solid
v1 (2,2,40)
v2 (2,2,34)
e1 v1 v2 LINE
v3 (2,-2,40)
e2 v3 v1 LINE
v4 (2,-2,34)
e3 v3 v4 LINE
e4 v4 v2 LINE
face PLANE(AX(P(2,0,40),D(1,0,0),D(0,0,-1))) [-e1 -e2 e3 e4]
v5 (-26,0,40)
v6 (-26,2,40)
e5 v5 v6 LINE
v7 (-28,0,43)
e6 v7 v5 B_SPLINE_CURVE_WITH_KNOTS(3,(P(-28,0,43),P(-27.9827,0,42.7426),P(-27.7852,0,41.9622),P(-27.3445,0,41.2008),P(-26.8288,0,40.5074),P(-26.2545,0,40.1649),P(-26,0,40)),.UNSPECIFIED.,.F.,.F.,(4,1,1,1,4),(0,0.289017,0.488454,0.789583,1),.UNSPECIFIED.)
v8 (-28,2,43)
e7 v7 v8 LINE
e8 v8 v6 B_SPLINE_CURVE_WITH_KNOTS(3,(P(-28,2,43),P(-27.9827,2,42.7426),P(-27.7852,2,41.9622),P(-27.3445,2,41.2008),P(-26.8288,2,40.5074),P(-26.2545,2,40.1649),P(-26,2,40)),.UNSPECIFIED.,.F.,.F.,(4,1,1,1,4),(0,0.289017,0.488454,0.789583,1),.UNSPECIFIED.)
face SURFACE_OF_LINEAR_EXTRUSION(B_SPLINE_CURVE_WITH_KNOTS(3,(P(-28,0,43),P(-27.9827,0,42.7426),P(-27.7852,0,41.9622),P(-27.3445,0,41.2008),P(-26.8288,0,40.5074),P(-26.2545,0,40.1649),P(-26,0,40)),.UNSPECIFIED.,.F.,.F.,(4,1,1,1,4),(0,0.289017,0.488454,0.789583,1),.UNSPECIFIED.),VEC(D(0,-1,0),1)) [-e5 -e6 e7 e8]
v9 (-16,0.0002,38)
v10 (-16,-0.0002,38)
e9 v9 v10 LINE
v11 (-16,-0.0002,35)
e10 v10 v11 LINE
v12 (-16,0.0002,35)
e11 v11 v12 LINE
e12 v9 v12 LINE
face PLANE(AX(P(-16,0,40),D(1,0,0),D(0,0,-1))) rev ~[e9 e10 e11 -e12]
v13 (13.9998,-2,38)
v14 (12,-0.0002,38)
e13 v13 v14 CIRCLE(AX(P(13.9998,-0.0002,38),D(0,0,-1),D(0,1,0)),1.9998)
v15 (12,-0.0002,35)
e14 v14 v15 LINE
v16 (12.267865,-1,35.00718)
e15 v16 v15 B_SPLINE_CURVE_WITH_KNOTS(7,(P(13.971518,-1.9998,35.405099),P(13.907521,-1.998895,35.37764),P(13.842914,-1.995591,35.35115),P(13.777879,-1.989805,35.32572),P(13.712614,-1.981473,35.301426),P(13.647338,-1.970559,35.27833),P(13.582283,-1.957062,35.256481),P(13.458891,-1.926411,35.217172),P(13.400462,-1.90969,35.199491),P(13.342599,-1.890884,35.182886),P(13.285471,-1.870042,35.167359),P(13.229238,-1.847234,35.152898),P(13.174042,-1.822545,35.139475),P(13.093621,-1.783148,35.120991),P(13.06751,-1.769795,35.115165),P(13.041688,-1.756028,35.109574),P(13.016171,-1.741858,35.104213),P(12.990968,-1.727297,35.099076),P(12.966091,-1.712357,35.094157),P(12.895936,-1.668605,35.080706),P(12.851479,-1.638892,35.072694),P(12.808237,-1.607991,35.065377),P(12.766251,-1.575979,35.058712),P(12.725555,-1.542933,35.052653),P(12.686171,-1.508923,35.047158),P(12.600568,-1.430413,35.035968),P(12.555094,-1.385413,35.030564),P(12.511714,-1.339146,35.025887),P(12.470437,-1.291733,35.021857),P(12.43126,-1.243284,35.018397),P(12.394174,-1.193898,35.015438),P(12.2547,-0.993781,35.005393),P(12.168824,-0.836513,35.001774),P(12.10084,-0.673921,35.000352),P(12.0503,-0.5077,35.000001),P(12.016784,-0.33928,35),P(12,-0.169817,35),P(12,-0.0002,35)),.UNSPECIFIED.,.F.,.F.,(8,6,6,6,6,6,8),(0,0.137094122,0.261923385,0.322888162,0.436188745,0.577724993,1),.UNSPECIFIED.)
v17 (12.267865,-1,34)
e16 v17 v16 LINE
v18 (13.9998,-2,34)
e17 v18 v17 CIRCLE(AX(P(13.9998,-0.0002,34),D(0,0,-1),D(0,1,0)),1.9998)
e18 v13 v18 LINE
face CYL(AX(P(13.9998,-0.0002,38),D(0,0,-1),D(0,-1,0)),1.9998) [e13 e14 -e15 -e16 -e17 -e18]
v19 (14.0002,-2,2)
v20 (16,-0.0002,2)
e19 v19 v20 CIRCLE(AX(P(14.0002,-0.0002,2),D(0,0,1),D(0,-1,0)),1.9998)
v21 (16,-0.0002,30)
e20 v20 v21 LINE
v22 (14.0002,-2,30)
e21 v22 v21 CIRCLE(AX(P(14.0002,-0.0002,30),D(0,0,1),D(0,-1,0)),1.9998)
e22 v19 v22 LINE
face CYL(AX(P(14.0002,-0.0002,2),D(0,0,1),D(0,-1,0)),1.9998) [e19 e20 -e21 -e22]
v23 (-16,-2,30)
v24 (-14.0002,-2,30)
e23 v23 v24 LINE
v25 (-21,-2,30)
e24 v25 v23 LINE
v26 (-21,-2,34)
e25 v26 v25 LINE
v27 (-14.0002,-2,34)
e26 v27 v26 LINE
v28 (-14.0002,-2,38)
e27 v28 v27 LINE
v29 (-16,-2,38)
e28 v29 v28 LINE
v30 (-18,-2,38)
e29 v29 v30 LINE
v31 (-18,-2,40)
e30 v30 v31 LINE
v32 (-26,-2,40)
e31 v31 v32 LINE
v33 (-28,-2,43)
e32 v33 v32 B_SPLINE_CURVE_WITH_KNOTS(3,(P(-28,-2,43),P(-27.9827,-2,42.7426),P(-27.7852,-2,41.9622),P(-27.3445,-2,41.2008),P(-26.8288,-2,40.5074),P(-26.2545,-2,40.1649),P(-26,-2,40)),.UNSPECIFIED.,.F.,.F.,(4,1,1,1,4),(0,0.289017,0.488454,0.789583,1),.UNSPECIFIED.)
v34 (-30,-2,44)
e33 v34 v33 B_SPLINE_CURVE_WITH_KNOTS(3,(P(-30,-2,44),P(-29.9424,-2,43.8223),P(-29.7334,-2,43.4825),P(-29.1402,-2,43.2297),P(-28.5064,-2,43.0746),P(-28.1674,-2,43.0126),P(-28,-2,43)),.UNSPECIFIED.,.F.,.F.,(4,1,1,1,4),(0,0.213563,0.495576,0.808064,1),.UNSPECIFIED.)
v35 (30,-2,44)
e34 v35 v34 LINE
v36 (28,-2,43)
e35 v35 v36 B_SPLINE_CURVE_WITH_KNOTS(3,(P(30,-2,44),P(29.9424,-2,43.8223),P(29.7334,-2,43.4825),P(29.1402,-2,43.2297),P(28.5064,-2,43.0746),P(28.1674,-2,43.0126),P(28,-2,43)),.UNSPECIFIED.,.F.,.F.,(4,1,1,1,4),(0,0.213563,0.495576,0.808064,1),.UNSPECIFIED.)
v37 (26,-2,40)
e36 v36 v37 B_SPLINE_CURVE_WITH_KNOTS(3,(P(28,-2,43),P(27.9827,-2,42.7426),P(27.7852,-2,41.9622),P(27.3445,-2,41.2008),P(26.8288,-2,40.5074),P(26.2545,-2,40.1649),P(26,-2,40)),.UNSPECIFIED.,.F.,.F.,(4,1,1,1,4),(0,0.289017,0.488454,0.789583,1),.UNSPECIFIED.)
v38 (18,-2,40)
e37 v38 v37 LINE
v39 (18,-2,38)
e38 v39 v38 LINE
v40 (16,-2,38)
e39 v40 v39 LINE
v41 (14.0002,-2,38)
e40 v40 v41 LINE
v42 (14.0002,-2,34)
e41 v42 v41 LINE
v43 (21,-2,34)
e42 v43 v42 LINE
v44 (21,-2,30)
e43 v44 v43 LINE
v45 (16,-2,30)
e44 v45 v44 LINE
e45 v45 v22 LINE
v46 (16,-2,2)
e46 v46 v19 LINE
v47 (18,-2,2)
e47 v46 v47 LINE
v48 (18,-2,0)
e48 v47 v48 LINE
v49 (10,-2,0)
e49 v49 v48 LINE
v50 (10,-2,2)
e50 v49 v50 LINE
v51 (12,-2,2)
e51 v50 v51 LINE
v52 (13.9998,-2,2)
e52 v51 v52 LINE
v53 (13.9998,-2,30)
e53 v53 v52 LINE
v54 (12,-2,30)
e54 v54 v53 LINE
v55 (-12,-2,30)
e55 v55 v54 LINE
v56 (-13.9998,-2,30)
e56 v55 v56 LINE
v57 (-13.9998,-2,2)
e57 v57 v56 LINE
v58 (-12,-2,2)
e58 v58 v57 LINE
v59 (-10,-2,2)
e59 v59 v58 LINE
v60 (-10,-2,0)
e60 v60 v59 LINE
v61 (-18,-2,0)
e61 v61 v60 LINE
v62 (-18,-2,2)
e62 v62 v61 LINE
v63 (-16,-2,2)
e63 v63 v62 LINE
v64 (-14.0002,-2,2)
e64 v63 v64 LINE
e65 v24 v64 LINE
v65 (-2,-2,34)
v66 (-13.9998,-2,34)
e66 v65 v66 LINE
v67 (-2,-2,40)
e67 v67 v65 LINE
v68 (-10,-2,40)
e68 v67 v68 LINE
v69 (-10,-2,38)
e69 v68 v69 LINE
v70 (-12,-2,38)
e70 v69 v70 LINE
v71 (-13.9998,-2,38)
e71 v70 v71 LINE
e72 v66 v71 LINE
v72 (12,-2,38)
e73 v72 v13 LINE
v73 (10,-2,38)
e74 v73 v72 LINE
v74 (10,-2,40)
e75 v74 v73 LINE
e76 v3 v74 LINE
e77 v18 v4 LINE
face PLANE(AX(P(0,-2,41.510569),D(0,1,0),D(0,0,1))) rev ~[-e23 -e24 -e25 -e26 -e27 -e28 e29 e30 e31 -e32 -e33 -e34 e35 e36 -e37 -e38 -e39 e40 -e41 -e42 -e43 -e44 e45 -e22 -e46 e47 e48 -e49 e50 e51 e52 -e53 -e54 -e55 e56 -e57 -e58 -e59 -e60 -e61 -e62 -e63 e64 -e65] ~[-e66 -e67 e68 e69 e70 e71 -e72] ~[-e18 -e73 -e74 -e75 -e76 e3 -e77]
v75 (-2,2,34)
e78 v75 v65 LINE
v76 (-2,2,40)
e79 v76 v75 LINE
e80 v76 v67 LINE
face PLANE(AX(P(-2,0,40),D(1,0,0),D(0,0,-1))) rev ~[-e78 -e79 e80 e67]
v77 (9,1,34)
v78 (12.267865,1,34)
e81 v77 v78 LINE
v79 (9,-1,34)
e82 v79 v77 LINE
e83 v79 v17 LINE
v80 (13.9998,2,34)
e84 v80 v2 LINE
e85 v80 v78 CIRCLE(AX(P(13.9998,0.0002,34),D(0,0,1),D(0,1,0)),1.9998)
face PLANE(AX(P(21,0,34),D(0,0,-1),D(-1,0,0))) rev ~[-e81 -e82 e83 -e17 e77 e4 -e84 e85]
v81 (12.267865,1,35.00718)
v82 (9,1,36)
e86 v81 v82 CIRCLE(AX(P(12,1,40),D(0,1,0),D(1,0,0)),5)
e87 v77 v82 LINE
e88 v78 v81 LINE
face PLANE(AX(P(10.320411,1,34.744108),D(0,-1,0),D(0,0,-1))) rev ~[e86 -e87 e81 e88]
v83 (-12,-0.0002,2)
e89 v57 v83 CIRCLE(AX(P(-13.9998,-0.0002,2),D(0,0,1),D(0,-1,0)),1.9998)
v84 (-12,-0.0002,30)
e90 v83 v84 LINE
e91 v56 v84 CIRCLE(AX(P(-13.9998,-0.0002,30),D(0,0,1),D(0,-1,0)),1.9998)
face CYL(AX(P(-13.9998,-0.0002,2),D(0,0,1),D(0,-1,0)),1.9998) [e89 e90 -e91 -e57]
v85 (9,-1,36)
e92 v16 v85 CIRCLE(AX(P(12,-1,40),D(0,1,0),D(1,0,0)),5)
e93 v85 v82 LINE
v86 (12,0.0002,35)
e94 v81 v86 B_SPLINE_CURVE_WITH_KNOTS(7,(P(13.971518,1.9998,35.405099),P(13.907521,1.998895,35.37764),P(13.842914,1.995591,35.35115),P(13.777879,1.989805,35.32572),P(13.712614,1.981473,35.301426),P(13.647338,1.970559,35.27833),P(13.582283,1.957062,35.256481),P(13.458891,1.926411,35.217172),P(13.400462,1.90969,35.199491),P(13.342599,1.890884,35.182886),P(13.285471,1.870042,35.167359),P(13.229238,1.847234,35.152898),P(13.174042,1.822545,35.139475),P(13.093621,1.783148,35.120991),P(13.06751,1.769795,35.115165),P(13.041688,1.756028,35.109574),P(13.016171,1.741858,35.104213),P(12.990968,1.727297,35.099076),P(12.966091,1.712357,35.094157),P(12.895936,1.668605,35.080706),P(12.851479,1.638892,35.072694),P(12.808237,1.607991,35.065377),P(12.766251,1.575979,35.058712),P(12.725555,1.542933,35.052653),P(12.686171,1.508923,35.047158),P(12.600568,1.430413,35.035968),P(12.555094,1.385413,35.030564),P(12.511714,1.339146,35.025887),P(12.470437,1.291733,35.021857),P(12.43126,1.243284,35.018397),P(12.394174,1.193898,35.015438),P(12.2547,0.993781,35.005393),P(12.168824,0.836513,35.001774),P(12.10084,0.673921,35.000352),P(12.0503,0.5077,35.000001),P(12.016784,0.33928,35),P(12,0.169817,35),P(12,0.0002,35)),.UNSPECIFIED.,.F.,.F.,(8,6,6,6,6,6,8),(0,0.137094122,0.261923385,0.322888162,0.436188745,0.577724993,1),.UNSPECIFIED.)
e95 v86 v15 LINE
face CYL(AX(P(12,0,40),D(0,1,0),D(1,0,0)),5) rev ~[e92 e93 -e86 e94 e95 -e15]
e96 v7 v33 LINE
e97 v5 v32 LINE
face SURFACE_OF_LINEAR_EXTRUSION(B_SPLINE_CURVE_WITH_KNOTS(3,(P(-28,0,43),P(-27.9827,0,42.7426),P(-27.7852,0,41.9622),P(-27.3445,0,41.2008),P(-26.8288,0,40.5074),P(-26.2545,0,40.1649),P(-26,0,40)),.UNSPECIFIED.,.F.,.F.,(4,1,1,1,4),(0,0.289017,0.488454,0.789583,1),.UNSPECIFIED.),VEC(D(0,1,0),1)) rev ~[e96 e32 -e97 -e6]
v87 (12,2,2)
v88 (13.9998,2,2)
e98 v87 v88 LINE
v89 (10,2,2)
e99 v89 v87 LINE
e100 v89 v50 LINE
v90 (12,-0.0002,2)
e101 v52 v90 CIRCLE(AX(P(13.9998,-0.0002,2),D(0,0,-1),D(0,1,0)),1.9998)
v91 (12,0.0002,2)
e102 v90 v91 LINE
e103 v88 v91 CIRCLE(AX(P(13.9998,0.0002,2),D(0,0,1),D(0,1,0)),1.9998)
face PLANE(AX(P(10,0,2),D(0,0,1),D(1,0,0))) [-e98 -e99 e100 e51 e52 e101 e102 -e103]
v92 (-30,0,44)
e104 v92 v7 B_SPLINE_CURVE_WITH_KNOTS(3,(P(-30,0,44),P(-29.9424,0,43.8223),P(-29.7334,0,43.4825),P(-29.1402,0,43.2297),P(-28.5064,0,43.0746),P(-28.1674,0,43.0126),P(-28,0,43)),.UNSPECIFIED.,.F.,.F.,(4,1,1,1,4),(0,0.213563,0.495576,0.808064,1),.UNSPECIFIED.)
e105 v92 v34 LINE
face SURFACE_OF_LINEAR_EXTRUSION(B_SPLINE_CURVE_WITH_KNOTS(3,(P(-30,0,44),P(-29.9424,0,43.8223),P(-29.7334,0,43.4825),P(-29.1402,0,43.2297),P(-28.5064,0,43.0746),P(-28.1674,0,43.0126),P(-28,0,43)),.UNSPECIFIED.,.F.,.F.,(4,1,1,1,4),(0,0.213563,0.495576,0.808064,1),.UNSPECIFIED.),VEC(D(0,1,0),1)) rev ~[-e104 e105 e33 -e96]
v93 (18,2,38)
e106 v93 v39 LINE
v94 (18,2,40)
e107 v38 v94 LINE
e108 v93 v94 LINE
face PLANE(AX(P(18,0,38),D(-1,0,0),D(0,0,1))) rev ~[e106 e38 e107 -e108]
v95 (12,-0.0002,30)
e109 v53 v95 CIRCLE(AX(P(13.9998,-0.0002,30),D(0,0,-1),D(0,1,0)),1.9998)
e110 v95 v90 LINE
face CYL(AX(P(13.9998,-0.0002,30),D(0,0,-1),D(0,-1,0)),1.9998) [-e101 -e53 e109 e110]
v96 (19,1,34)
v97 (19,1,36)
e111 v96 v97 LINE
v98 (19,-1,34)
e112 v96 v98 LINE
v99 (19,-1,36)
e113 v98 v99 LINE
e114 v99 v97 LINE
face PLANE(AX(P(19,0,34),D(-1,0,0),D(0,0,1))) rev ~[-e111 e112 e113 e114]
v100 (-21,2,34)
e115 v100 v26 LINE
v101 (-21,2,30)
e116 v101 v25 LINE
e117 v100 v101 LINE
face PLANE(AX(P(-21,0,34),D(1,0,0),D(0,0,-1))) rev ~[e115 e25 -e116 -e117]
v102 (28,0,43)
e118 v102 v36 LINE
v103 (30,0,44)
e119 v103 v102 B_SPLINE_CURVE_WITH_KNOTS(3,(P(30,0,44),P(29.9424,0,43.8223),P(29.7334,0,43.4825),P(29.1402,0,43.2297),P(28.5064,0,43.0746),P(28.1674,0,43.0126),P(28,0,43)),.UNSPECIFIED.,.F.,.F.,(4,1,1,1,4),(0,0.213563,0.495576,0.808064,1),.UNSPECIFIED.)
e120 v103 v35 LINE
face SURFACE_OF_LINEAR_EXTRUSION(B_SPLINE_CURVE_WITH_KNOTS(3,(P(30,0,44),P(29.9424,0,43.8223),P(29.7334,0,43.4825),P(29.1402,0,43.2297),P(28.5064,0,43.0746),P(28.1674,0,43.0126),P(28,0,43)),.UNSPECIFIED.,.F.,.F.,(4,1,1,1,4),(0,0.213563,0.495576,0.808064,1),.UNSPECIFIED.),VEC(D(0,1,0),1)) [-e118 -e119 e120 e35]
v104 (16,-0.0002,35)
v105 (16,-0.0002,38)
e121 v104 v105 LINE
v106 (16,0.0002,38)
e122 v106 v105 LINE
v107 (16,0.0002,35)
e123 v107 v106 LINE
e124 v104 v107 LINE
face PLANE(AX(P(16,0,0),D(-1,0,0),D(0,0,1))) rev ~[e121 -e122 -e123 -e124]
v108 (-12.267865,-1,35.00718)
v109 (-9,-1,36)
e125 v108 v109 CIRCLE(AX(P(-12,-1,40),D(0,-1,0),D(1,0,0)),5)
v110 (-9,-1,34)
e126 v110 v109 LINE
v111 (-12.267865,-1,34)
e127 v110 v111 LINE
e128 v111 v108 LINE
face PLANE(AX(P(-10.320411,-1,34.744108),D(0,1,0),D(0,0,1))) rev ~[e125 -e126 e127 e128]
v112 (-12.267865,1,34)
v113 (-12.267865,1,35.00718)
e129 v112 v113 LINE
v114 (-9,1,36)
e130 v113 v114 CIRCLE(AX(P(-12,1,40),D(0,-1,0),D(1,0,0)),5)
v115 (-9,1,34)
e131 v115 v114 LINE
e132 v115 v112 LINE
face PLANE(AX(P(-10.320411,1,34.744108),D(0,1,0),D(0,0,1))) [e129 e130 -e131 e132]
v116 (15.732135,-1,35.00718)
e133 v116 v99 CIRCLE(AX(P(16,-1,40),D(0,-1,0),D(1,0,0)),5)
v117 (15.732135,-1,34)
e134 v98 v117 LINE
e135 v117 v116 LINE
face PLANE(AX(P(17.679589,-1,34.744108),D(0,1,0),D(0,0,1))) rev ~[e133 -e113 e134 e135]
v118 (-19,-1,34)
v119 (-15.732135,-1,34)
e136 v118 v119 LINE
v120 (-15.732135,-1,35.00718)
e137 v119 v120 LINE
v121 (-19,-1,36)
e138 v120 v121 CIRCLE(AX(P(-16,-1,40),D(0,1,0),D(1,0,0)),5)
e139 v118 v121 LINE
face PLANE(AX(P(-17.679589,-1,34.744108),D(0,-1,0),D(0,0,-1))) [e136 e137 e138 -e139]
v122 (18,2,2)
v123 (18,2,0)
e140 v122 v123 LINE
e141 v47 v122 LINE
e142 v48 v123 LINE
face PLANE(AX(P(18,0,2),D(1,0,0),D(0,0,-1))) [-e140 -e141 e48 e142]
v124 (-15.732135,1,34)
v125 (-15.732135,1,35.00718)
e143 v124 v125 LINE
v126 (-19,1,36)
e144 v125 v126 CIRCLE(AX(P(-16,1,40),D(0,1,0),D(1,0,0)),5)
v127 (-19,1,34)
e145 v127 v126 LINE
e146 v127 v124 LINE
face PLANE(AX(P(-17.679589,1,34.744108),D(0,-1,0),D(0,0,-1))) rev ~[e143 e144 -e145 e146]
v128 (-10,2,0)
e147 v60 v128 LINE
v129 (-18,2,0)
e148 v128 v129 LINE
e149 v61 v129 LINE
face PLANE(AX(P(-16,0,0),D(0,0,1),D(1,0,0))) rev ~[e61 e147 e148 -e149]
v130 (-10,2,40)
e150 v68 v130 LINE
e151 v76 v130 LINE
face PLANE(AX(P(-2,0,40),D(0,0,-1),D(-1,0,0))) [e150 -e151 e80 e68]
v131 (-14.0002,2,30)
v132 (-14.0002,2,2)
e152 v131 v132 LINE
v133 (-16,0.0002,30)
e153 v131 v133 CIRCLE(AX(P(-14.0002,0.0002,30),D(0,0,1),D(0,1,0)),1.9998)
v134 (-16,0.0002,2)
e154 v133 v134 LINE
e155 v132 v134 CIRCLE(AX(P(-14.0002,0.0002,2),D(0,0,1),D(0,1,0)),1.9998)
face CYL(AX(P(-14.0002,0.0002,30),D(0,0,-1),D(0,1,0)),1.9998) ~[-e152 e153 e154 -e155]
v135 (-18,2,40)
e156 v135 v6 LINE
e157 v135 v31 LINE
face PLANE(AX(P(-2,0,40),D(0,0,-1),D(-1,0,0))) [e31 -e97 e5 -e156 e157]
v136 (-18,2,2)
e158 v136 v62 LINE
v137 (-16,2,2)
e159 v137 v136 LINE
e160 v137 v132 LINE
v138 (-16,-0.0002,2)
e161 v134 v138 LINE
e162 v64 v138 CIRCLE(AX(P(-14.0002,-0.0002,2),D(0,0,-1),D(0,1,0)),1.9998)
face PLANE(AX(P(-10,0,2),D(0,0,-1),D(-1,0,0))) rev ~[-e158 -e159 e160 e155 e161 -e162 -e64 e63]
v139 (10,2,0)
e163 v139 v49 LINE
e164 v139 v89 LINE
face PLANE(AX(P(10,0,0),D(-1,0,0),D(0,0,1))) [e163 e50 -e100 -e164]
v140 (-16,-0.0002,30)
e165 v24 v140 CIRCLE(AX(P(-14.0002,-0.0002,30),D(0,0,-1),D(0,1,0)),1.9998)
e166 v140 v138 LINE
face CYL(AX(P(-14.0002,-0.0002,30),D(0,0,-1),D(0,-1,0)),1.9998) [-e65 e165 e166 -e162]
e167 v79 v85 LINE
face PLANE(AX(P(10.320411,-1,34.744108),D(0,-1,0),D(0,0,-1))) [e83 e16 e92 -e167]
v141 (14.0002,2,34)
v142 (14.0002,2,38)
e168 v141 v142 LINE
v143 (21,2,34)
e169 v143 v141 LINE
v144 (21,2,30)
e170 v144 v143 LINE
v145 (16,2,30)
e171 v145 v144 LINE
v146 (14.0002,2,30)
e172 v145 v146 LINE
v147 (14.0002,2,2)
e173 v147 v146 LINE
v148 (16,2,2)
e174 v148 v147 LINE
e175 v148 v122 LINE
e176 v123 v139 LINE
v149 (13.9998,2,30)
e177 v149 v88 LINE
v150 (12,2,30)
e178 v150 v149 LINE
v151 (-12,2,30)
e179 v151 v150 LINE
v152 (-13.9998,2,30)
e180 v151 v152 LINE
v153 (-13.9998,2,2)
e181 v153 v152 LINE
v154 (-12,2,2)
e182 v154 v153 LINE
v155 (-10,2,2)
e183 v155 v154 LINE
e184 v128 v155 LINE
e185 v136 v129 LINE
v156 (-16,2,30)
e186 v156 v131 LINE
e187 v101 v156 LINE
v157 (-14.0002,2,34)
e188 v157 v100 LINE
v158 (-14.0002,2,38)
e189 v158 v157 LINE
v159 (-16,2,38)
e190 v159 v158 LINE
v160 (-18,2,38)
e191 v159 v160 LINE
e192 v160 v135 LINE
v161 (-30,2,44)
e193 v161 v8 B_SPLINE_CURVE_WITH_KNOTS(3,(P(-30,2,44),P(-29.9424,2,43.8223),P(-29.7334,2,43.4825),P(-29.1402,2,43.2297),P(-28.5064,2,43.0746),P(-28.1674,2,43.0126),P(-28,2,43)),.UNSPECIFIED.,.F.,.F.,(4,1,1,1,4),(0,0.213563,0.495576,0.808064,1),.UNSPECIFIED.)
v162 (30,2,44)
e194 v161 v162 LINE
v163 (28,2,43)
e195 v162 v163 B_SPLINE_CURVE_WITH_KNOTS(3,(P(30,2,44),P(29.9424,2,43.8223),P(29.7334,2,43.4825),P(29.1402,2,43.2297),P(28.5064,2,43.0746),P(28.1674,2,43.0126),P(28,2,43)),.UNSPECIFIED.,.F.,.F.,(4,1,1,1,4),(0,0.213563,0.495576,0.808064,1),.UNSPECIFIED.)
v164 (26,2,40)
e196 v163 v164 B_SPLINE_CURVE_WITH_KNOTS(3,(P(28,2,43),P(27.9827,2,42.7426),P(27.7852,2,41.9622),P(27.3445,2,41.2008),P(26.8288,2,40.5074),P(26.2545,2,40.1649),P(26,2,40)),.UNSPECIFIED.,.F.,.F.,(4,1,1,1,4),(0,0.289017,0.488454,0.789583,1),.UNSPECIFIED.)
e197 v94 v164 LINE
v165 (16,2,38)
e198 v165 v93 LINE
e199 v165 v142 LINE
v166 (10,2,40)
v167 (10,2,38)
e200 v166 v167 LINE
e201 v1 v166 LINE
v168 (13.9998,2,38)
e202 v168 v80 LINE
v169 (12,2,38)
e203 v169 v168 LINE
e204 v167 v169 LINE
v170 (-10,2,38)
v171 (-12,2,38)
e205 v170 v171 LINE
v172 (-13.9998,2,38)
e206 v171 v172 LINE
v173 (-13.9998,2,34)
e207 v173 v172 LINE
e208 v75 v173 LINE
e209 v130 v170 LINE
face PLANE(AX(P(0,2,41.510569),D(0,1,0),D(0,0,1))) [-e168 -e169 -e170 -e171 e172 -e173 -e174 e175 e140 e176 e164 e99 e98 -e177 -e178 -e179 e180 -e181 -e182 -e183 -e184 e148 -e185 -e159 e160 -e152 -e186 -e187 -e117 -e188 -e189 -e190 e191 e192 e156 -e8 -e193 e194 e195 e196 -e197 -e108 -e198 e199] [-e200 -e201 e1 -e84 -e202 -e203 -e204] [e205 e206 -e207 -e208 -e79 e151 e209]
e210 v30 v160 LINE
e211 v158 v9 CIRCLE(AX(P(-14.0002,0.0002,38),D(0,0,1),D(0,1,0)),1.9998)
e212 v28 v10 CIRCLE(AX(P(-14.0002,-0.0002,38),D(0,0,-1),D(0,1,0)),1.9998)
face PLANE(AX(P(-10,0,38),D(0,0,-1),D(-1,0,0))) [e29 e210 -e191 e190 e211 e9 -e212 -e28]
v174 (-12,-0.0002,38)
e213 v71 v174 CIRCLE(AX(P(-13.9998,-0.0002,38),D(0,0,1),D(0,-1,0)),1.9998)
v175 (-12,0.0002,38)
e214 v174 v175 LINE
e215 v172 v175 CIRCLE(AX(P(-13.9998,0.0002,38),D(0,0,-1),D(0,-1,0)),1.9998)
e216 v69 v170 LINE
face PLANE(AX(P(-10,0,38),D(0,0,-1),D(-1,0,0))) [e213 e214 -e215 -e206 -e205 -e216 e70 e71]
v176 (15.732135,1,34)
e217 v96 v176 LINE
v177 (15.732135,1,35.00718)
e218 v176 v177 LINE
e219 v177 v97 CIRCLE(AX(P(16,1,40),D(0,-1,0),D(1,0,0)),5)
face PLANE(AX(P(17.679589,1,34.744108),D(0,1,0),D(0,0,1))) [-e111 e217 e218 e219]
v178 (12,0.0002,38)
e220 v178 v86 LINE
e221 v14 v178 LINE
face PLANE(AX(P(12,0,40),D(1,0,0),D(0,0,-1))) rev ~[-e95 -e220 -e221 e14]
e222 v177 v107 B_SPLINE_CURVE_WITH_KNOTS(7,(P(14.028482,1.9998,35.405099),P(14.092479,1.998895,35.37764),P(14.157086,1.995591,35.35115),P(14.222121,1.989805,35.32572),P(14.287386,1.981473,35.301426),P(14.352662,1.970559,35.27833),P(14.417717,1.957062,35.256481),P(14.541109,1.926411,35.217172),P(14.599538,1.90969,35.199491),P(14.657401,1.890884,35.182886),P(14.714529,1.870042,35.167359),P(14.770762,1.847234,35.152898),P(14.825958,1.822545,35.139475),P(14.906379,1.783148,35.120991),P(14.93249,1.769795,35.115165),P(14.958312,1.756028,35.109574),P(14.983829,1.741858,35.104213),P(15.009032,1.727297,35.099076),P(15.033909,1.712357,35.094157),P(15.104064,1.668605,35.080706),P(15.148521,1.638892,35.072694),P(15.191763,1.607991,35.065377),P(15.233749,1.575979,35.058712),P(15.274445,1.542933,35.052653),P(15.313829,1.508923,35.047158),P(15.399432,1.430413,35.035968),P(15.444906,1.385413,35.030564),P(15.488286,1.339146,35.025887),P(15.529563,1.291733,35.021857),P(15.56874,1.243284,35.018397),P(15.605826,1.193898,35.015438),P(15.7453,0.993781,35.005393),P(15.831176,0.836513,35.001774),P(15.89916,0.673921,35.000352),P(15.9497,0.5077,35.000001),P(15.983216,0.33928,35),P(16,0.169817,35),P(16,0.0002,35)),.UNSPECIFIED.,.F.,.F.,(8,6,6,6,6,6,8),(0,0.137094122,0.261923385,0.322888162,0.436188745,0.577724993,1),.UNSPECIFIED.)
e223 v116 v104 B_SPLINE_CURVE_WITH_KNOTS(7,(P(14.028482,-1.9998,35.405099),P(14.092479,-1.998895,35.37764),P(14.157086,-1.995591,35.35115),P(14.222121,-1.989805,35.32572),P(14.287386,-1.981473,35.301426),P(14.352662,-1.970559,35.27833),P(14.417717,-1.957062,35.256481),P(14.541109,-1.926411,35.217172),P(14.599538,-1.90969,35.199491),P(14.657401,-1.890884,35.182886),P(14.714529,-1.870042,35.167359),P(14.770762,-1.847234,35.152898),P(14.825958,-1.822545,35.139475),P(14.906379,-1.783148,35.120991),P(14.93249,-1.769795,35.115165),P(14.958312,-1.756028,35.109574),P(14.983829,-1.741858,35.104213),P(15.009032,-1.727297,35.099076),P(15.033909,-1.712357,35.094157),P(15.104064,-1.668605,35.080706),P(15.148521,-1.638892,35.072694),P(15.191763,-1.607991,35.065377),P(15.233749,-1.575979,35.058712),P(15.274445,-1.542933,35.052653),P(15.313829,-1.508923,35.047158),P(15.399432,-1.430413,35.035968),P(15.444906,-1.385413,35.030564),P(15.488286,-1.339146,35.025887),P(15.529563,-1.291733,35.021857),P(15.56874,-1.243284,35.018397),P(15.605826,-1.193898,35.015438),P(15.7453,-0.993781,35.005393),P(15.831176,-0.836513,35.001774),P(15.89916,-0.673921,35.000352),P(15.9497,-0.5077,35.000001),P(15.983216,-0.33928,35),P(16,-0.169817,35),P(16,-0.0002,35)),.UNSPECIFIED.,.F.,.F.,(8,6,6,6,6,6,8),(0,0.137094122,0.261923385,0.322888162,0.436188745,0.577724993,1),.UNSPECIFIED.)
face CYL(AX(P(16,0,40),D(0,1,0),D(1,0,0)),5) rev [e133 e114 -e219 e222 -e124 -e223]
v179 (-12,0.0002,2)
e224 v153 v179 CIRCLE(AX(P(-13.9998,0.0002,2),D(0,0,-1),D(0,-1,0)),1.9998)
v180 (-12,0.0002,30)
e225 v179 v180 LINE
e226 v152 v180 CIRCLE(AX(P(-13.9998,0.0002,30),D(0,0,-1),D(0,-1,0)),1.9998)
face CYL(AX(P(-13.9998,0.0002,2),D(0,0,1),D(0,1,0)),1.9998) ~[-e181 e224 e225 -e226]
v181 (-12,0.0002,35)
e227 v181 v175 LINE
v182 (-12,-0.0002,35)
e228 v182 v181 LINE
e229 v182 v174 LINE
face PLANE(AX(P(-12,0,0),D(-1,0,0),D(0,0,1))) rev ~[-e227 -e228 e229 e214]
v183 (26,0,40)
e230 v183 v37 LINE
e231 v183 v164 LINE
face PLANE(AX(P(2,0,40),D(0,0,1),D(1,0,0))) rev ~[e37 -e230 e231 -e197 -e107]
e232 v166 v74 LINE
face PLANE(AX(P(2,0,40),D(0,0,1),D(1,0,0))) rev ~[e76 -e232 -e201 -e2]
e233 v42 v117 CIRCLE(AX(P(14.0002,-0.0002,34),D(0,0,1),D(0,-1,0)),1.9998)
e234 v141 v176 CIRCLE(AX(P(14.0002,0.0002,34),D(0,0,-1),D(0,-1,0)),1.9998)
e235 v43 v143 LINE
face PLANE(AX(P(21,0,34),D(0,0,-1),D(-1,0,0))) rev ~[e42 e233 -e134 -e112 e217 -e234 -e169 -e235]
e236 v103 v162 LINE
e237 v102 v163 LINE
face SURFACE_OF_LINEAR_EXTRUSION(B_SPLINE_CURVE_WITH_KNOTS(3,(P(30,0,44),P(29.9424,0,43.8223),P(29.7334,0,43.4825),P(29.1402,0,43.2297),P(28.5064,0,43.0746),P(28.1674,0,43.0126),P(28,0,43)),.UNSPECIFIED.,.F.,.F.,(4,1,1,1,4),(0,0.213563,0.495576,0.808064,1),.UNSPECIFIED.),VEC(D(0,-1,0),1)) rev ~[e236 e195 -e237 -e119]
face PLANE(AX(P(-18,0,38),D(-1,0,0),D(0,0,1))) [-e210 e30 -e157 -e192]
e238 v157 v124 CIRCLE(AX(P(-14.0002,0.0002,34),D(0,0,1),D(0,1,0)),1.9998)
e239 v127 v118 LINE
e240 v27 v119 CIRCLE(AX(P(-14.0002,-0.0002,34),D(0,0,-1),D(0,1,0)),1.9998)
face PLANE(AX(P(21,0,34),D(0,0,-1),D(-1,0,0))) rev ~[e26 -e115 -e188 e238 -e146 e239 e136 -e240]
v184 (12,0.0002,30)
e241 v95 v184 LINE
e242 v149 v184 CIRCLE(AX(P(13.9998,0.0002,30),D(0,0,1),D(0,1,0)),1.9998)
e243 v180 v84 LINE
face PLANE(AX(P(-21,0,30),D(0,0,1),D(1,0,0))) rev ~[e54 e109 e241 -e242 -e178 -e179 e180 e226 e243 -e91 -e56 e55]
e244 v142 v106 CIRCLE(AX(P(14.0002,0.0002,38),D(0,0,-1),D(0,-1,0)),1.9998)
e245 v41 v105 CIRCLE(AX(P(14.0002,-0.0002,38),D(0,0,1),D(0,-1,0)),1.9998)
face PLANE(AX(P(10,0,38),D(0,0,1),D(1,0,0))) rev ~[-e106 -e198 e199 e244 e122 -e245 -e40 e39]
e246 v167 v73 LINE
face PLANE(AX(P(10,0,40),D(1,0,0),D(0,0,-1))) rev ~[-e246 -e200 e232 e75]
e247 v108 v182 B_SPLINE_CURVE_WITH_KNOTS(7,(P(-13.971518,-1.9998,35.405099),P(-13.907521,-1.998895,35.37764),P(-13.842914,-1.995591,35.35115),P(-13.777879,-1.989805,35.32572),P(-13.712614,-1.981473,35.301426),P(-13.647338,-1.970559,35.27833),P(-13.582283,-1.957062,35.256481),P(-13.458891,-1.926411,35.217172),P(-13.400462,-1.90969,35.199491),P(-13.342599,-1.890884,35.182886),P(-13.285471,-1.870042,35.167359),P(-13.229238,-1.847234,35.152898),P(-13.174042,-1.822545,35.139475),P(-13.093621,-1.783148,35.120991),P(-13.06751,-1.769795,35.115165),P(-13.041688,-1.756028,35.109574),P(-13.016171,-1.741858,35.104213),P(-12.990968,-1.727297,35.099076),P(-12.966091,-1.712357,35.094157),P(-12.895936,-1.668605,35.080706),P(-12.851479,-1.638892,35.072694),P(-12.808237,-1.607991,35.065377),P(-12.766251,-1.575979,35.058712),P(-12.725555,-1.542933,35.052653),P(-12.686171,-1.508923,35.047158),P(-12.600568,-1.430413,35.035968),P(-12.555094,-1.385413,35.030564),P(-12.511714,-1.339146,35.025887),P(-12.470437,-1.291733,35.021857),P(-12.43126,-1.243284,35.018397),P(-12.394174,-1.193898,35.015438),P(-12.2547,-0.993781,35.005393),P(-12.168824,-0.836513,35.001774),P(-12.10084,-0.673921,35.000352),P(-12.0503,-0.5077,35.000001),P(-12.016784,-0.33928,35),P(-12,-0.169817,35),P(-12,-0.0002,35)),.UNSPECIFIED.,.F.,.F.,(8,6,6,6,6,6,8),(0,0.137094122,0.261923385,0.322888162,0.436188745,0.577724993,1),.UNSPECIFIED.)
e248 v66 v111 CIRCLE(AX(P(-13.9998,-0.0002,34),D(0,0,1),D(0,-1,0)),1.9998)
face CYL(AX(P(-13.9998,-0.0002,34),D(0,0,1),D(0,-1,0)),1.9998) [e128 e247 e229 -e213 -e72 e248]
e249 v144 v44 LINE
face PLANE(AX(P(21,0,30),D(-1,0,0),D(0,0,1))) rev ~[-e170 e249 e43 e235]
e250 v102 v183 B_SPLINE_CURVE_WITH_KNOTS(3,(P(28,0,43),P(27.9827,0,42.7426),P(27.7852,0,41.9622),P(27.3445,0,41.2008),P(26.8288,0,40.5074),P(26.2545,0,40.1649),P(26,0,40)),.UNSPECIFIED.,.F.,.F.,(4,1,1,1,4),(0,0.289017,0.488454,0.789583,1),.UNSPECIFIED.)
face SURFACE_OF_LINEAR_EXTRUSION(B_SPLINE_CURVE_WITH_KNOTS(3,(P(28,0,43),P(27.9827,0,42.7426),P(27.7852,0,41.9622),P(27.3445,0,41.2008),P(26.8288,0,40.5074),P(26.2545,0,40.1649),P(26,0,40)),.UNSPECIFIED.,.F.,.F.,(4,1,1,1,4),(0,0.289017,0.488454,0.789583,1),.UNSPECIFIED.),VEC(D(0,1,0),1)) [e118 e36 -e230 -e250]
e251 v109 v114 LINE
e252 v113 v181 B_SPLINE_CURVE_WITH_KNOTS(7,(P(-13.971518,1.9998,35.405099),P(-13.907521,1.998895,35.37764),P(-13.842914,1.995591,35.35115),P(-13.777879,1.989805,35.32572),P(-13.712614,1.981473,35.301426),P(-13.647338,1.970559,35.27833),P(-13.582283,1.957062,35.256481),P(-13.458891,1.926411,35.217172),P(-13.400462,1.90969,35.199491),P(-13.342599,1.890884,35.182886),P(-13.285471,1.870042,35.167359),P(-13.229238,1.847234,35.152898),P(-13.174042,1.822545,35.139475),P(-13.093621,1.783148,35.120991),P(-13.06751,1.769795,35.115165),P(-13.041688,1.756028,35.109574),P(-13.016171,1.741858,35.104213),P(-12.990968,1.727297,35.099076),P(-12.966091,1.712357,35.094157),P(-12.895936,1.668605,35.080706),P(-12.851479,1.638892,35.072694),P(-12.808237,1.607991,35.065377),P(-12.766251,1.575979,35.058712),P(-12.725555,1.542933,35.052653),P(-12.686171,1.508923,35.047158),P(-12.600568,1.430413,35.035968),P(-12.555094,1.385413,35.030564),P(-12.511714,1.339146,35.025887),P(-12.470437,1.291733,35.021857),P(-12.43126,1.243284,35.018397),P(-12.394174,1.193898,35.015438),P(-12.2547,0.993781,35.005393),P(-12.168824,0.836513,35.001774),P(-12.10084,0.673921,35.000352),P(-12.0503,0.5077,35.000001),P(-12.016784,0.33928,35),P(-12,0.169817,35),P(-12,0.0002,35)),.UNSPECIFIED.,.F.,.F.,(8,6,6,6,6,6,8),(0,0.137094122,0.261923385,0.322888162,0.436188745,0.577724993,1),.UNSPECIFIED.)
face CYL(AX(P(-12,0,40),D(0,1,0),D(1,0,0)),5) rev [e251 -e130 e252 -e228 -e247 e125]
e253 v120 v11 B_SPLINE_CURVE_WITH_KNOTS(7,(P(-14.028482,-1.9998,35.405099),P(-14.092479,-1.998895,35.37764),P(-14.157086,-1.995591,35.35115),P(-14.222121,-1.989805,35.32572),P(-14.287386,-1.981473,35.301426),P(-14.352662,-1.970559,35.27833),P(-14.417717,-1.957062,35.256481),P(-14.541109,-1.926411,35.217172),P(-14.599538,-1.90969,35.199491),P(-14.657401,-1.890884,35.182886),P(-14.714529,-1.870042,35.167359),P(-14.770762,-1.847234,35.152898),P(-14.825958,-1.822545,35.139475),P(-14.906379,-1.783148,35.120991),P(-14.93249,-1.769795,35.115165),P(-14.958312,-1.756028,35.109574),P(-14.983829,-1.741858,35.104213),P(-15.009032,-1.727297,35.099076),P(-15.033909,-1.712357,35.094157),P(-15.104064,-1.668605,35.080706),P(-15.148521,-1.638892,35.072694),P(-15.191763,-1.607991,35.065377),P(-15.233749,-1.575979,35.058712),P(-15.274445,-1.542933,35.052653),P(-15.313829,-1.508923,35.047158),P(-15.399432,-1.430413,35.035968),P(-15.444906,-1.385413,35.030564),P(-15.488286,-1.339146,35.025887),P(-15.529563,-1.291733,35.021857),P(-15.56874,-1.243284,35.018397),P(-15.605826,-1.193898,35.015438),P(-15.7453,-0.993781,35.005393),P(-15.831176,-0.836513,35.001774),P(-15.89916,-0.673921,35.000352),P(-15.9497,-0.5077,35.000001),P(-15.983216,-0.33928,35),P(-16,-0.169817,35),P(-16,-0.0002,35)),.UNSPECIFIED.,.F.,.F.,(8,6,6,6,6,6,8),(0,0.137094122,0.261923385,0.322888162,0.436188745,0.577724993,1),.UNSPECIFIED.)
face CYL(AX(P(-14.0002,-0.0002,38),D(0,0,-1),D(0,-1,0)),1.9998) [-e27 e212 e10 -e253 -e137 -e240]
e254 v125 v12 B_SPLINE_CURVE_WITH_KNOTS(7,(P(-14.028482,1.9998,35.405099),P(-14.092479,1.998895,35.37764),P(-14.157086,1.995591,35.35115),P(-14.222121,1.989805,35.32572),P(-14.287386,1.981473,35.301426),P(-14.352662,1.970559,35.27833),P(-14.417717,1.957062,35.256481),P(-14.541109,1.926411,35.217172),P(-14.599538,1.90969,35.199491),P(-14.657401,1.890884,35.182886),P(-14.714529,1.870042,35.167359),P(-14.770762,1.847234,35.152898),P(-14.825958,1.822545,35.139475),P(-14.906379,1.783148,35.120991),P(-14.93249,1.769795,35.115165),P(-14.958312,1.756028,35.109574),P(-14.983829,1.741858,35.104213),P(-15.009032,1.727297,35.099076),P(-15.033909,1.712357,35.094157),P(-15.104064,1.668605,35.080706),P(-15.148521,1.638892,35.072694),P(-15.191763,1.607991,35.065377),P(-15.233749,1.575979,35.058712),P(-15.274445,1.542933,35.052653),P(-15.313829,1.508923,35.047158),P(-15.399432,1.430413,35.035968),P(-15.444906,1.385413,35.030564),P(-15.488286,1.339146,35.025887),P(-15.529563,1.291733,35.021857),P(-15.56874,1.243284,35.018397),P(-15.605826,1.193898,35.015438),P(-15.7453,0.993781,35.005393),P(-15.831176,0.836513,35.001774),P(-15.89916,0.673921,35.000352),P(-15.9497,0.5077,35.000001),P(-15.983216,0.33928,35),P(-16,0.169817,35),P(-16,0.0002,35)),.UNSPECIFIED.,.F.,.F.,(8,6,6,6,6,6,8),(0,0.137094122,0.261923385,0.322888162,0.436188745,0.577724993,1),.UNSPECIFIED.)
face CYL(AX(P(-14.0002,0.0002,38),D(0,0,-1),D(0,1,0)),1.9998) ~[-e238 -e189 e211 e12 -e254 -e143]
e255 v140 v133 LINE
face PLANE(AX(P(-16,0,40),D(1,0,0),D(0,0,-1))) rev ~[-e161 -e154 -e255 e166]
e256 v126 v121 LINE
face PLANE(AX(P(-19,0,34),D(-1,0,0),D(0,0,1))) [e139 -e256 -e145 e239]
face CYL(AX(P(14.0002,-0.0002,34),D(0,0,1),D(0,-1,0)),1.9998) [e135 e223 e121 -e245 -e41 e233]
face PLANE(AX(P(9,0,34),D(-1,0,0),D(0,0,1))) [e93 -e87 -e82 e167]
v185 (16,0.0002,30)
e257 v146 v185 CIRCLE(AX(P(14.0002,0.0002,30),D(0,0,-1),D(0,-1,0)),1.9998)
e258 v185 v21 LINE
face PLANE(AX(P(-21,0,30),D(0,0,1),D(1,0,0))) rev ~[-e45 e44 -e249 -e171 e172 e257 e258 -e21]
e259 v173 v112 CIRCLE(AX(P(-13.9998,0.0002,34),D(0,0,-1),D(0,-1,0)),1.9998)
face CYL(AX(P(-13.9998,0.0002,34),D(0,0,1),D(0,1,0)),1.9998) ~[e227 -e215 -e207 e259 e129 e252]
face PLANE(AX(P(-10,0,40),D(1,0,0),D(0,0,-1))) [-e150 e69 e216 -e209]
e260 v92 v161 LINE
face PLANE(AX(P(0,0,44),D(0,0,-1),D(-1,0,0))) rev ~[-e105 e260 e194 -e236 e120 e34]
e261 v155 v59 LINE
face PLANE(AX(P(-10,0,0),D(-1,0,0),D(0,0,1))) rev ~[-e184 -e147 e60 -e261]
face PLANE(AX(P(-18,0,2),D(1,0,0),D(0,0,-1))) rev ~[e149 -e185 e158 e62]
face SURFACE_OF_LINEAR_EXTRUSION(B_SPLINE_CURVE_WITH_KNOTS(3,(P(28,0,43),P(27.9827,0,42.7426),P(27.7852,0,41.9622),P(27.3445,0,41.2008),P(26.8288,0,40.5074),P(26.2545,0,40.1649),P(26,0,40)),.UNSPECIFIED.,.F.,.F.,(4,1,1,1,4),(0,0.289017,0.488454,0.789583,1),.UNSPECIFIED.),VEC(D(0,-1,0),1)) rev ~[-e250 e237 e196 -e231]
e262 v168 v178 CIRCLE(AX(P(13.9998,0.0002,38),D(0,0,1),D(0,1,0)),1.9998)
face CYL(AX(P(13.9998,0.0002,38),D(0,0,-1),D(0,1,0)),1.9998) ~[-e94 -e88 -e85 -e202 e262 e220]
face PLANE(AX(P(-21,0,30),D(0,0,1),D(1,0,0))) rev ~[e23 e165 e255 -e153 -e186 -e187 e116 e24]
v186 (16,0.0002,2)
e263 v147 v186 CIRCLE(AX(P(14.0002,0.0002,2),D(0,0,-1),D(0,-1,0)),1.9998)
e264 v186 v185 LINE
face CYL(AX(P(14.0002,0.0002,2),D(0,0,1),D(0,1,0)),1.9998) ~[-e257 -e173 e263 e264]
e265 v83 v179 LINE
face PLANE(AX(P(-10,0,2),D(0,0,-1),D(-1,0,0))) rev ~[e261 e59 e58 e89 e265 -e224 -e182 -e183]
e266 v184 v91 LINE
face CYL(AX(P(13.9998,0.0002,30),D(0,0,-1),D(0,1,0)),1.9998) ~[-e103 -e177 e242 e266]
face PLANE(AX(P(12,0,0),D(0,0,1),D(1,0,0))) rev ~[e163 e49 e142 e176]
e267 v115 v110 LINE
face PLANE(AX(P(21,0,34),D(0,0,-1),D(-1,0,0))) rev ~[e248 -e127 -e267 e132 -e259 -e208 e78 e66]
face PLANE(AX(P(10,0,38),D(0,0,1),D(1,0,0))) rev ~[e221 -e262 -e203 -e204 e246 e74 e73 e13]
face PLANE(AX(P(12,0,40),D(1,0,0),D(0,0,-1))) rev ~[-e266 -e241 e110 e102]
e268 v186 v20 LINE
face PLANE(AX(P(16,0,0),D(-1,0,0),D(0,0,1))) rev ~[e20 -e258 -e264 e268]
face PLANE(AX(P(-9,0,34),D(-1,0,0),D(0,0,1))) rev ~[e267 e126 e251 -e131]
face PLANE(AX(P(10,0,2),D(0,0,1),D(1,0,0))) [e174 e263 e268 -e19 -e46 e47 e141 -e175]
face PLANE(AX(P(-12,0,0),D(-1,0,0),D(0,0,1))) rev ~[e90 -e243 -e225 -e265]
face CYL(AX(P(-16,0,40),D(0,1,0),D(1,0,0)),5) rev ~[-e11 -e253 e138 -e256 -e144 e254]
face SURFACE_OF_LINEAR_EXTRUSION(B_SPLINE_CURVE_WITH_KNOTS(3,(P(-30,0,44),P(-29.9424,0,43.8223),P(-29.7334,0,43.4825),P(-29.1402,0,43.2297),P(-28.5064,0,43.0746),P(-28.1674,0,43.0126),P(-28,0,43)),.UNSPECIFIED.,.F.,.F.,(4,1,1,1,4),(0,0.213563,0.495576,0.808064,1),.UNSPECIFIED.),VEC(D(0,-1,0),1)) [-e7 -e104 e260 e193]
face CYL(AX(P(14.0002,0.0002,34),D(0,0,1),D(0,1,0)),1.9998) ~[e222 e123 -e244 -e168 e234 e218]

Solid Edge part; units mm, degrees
sketch "Sketch1" plane through (0, 0, 0) normal (0, -1, 0) x (1, 0, 0)
  line L0 (-2, 40) -> (-26, 40)
  spline S0 degree 3 poles (-28, 43) (-27.9827, 42.7426) (-27.7852, 41.9622) (-27.3445, 41.2008) (-26.8288, 40.5074) (-26.2545, 40.1649) (-26, 40) knots 0 0 0 0 0.289017 0.488454 0.789583 1 1 1 1
  spline S1 degree 3 poles (-30, 44) (-29.9424, 43.8223) (-29.7334, 43.4825) (-29.1402, 43.2297) (-28.5064, 43.0746) (-28.1674, 43.0126) (-28, 43) knots 0 0 0 0 0.213563 0.495576 0.808064 1 1 1 1
  line L1 (0, 44) -> (-30, 44)
  line L2 (0, 44) -> (30, 44)
  spline S2 degree 3 poles (30, 44) (29.9424, 43.8223) (29.7334, 43.4825) (29.1402, 43.2297) (28.5064, 43.0746) (28.1674, 43.0126) (28, 43) knots 0 0 0 0 0.213563 0.495576 0.808064 1 1 1 1
  spline S3 degree 3 poles (28, 43) (27.9827, 42.7426) (27.7852, 41.9622) (27.3445, 41.2008) (26.8288, 40.5074) (26.2545, 40.1649) (26, 40) knots 0 0 0 0 0.289017 0.488454 0.789583 1 1 1 1
  line L3 (2, 40) -> (26, 40)
  line L4 (2, 40) -> (2, 34)
  line L5 (-2, 34) -> (2, 34)
  line L6 (-2, 40) -> (-2, 34)
  line L7 (21, 34) -> (-21, 34)
  line L8 (-21, 34) -> (-21, 30)
  line L9 (-21, 30) -> (21, 30)
  line L10 (21, 30) -> (21, 34)
  line L11 (-10, 38) -> (-18, 38)
  line L12 (-18, 38) -> (-18, 40)
  line L13 (-18, 40) -> (-10, 40)
  line L14 (-10, 40) -> (-10, 38)
  line L15 (10, 40) -> (10, 38)
  line L16 (10, 38) -> (18, 38)
  line L17 (18, 38) -> (18, 40)
  line L18 (18, 40) -> (10, 40)
  line L19 (10, 2) -> (18, 2)
  line L20 (18, 2) -> (18, 0)
  line L21 (18, 0) -> (10, 0)
  line L22 (10, 0) -> (10, 2)
  line L23 (-10, 0) -> (-10, 2)
  line L24 (-10, 2) -> (-18, 2)
  line L25 (-18, 2) -> (-18, 0)
  line L26 (-18, 0) -> (-10, 0)
extrude "Protrusion1" add sketch "Sketch1" along normal mid plane 4
sketch "Sketch2" plane through (0, 0, 0) normal (0, -1, 0) x (1, 0, 0)
  arc A0 (-16, 35) -> (-19, 36) centre (-16, 40) cw
  line L0 (-19, 34) -> (-19, 36)
  line L1 (-19, 34) -> (-16, 34)
  line L2 (-16, 34) -> (-16, 35)
  line L3 (-12, 34) -> (-12, 35)
  arc A1 (-12, 35) -> (-9, 36) centre (-12, 40) ccw
  line L4 (-9, 34) -> (-9, 36)
  line L5 (-9, 34) -> (-12, 34)
  line L6 (9, 34) -> (12, 34)
  line L7 (12, 34) -> (12, 35)
  arc A2 (12, 35) -> (9, 36) centre (12, 40) cw
  line L8 (9, 34) -> (9, 36)
  line L9 (16, 34) -> (16, 35)
  arc A3 (16, 35) -> (19, 36) centre (16, 40) ccw
  line L10 (19, 34) -> (19, 36)
  line L11 (19, 34) -> (16, 34)
extrude "ExtrudedProtrusion_2" add sketch "Sketch2" along normal mid plane 2
sketch "Sketch3" plane through (0, 0, 0) normal (0, -1, 0) x (1, 0, 0)
  line L0 (-16, 40) -> (-16, 0)
  line L1 (-16, 0) -> (-12, 0)
  line L2 (-12, 0) -> (-12, 40)
  line L3 (-12, 40) -> (-16, 40)
  line L4 (16, 0) -> (16, 40)
  line L5 (16, 40) -> (12, 40)
  line L6 (12, 40) -> (12, 0)
  line L7 (12, 0) -> (16, 0)
extrude "ExtrudedProtrusion_4" add sketch "Sketch3" along normal mid plane 4
fillet "Round_1" radius 2 16 edges at (16, -2, 16) (16, 2, 16) (12, -2, 16) (12, 2, 16) (-12, -2, 16) (-12, 2, 16) (-16, -2, 16) (-16, 2, 16) (-16, -2, 36) (-12, -2, 36) (-16, 2, 36) (-12, 2, 36) (16, 2, 36) (12, 2, 36) (12, -2, 36) (16, -2, 36)
